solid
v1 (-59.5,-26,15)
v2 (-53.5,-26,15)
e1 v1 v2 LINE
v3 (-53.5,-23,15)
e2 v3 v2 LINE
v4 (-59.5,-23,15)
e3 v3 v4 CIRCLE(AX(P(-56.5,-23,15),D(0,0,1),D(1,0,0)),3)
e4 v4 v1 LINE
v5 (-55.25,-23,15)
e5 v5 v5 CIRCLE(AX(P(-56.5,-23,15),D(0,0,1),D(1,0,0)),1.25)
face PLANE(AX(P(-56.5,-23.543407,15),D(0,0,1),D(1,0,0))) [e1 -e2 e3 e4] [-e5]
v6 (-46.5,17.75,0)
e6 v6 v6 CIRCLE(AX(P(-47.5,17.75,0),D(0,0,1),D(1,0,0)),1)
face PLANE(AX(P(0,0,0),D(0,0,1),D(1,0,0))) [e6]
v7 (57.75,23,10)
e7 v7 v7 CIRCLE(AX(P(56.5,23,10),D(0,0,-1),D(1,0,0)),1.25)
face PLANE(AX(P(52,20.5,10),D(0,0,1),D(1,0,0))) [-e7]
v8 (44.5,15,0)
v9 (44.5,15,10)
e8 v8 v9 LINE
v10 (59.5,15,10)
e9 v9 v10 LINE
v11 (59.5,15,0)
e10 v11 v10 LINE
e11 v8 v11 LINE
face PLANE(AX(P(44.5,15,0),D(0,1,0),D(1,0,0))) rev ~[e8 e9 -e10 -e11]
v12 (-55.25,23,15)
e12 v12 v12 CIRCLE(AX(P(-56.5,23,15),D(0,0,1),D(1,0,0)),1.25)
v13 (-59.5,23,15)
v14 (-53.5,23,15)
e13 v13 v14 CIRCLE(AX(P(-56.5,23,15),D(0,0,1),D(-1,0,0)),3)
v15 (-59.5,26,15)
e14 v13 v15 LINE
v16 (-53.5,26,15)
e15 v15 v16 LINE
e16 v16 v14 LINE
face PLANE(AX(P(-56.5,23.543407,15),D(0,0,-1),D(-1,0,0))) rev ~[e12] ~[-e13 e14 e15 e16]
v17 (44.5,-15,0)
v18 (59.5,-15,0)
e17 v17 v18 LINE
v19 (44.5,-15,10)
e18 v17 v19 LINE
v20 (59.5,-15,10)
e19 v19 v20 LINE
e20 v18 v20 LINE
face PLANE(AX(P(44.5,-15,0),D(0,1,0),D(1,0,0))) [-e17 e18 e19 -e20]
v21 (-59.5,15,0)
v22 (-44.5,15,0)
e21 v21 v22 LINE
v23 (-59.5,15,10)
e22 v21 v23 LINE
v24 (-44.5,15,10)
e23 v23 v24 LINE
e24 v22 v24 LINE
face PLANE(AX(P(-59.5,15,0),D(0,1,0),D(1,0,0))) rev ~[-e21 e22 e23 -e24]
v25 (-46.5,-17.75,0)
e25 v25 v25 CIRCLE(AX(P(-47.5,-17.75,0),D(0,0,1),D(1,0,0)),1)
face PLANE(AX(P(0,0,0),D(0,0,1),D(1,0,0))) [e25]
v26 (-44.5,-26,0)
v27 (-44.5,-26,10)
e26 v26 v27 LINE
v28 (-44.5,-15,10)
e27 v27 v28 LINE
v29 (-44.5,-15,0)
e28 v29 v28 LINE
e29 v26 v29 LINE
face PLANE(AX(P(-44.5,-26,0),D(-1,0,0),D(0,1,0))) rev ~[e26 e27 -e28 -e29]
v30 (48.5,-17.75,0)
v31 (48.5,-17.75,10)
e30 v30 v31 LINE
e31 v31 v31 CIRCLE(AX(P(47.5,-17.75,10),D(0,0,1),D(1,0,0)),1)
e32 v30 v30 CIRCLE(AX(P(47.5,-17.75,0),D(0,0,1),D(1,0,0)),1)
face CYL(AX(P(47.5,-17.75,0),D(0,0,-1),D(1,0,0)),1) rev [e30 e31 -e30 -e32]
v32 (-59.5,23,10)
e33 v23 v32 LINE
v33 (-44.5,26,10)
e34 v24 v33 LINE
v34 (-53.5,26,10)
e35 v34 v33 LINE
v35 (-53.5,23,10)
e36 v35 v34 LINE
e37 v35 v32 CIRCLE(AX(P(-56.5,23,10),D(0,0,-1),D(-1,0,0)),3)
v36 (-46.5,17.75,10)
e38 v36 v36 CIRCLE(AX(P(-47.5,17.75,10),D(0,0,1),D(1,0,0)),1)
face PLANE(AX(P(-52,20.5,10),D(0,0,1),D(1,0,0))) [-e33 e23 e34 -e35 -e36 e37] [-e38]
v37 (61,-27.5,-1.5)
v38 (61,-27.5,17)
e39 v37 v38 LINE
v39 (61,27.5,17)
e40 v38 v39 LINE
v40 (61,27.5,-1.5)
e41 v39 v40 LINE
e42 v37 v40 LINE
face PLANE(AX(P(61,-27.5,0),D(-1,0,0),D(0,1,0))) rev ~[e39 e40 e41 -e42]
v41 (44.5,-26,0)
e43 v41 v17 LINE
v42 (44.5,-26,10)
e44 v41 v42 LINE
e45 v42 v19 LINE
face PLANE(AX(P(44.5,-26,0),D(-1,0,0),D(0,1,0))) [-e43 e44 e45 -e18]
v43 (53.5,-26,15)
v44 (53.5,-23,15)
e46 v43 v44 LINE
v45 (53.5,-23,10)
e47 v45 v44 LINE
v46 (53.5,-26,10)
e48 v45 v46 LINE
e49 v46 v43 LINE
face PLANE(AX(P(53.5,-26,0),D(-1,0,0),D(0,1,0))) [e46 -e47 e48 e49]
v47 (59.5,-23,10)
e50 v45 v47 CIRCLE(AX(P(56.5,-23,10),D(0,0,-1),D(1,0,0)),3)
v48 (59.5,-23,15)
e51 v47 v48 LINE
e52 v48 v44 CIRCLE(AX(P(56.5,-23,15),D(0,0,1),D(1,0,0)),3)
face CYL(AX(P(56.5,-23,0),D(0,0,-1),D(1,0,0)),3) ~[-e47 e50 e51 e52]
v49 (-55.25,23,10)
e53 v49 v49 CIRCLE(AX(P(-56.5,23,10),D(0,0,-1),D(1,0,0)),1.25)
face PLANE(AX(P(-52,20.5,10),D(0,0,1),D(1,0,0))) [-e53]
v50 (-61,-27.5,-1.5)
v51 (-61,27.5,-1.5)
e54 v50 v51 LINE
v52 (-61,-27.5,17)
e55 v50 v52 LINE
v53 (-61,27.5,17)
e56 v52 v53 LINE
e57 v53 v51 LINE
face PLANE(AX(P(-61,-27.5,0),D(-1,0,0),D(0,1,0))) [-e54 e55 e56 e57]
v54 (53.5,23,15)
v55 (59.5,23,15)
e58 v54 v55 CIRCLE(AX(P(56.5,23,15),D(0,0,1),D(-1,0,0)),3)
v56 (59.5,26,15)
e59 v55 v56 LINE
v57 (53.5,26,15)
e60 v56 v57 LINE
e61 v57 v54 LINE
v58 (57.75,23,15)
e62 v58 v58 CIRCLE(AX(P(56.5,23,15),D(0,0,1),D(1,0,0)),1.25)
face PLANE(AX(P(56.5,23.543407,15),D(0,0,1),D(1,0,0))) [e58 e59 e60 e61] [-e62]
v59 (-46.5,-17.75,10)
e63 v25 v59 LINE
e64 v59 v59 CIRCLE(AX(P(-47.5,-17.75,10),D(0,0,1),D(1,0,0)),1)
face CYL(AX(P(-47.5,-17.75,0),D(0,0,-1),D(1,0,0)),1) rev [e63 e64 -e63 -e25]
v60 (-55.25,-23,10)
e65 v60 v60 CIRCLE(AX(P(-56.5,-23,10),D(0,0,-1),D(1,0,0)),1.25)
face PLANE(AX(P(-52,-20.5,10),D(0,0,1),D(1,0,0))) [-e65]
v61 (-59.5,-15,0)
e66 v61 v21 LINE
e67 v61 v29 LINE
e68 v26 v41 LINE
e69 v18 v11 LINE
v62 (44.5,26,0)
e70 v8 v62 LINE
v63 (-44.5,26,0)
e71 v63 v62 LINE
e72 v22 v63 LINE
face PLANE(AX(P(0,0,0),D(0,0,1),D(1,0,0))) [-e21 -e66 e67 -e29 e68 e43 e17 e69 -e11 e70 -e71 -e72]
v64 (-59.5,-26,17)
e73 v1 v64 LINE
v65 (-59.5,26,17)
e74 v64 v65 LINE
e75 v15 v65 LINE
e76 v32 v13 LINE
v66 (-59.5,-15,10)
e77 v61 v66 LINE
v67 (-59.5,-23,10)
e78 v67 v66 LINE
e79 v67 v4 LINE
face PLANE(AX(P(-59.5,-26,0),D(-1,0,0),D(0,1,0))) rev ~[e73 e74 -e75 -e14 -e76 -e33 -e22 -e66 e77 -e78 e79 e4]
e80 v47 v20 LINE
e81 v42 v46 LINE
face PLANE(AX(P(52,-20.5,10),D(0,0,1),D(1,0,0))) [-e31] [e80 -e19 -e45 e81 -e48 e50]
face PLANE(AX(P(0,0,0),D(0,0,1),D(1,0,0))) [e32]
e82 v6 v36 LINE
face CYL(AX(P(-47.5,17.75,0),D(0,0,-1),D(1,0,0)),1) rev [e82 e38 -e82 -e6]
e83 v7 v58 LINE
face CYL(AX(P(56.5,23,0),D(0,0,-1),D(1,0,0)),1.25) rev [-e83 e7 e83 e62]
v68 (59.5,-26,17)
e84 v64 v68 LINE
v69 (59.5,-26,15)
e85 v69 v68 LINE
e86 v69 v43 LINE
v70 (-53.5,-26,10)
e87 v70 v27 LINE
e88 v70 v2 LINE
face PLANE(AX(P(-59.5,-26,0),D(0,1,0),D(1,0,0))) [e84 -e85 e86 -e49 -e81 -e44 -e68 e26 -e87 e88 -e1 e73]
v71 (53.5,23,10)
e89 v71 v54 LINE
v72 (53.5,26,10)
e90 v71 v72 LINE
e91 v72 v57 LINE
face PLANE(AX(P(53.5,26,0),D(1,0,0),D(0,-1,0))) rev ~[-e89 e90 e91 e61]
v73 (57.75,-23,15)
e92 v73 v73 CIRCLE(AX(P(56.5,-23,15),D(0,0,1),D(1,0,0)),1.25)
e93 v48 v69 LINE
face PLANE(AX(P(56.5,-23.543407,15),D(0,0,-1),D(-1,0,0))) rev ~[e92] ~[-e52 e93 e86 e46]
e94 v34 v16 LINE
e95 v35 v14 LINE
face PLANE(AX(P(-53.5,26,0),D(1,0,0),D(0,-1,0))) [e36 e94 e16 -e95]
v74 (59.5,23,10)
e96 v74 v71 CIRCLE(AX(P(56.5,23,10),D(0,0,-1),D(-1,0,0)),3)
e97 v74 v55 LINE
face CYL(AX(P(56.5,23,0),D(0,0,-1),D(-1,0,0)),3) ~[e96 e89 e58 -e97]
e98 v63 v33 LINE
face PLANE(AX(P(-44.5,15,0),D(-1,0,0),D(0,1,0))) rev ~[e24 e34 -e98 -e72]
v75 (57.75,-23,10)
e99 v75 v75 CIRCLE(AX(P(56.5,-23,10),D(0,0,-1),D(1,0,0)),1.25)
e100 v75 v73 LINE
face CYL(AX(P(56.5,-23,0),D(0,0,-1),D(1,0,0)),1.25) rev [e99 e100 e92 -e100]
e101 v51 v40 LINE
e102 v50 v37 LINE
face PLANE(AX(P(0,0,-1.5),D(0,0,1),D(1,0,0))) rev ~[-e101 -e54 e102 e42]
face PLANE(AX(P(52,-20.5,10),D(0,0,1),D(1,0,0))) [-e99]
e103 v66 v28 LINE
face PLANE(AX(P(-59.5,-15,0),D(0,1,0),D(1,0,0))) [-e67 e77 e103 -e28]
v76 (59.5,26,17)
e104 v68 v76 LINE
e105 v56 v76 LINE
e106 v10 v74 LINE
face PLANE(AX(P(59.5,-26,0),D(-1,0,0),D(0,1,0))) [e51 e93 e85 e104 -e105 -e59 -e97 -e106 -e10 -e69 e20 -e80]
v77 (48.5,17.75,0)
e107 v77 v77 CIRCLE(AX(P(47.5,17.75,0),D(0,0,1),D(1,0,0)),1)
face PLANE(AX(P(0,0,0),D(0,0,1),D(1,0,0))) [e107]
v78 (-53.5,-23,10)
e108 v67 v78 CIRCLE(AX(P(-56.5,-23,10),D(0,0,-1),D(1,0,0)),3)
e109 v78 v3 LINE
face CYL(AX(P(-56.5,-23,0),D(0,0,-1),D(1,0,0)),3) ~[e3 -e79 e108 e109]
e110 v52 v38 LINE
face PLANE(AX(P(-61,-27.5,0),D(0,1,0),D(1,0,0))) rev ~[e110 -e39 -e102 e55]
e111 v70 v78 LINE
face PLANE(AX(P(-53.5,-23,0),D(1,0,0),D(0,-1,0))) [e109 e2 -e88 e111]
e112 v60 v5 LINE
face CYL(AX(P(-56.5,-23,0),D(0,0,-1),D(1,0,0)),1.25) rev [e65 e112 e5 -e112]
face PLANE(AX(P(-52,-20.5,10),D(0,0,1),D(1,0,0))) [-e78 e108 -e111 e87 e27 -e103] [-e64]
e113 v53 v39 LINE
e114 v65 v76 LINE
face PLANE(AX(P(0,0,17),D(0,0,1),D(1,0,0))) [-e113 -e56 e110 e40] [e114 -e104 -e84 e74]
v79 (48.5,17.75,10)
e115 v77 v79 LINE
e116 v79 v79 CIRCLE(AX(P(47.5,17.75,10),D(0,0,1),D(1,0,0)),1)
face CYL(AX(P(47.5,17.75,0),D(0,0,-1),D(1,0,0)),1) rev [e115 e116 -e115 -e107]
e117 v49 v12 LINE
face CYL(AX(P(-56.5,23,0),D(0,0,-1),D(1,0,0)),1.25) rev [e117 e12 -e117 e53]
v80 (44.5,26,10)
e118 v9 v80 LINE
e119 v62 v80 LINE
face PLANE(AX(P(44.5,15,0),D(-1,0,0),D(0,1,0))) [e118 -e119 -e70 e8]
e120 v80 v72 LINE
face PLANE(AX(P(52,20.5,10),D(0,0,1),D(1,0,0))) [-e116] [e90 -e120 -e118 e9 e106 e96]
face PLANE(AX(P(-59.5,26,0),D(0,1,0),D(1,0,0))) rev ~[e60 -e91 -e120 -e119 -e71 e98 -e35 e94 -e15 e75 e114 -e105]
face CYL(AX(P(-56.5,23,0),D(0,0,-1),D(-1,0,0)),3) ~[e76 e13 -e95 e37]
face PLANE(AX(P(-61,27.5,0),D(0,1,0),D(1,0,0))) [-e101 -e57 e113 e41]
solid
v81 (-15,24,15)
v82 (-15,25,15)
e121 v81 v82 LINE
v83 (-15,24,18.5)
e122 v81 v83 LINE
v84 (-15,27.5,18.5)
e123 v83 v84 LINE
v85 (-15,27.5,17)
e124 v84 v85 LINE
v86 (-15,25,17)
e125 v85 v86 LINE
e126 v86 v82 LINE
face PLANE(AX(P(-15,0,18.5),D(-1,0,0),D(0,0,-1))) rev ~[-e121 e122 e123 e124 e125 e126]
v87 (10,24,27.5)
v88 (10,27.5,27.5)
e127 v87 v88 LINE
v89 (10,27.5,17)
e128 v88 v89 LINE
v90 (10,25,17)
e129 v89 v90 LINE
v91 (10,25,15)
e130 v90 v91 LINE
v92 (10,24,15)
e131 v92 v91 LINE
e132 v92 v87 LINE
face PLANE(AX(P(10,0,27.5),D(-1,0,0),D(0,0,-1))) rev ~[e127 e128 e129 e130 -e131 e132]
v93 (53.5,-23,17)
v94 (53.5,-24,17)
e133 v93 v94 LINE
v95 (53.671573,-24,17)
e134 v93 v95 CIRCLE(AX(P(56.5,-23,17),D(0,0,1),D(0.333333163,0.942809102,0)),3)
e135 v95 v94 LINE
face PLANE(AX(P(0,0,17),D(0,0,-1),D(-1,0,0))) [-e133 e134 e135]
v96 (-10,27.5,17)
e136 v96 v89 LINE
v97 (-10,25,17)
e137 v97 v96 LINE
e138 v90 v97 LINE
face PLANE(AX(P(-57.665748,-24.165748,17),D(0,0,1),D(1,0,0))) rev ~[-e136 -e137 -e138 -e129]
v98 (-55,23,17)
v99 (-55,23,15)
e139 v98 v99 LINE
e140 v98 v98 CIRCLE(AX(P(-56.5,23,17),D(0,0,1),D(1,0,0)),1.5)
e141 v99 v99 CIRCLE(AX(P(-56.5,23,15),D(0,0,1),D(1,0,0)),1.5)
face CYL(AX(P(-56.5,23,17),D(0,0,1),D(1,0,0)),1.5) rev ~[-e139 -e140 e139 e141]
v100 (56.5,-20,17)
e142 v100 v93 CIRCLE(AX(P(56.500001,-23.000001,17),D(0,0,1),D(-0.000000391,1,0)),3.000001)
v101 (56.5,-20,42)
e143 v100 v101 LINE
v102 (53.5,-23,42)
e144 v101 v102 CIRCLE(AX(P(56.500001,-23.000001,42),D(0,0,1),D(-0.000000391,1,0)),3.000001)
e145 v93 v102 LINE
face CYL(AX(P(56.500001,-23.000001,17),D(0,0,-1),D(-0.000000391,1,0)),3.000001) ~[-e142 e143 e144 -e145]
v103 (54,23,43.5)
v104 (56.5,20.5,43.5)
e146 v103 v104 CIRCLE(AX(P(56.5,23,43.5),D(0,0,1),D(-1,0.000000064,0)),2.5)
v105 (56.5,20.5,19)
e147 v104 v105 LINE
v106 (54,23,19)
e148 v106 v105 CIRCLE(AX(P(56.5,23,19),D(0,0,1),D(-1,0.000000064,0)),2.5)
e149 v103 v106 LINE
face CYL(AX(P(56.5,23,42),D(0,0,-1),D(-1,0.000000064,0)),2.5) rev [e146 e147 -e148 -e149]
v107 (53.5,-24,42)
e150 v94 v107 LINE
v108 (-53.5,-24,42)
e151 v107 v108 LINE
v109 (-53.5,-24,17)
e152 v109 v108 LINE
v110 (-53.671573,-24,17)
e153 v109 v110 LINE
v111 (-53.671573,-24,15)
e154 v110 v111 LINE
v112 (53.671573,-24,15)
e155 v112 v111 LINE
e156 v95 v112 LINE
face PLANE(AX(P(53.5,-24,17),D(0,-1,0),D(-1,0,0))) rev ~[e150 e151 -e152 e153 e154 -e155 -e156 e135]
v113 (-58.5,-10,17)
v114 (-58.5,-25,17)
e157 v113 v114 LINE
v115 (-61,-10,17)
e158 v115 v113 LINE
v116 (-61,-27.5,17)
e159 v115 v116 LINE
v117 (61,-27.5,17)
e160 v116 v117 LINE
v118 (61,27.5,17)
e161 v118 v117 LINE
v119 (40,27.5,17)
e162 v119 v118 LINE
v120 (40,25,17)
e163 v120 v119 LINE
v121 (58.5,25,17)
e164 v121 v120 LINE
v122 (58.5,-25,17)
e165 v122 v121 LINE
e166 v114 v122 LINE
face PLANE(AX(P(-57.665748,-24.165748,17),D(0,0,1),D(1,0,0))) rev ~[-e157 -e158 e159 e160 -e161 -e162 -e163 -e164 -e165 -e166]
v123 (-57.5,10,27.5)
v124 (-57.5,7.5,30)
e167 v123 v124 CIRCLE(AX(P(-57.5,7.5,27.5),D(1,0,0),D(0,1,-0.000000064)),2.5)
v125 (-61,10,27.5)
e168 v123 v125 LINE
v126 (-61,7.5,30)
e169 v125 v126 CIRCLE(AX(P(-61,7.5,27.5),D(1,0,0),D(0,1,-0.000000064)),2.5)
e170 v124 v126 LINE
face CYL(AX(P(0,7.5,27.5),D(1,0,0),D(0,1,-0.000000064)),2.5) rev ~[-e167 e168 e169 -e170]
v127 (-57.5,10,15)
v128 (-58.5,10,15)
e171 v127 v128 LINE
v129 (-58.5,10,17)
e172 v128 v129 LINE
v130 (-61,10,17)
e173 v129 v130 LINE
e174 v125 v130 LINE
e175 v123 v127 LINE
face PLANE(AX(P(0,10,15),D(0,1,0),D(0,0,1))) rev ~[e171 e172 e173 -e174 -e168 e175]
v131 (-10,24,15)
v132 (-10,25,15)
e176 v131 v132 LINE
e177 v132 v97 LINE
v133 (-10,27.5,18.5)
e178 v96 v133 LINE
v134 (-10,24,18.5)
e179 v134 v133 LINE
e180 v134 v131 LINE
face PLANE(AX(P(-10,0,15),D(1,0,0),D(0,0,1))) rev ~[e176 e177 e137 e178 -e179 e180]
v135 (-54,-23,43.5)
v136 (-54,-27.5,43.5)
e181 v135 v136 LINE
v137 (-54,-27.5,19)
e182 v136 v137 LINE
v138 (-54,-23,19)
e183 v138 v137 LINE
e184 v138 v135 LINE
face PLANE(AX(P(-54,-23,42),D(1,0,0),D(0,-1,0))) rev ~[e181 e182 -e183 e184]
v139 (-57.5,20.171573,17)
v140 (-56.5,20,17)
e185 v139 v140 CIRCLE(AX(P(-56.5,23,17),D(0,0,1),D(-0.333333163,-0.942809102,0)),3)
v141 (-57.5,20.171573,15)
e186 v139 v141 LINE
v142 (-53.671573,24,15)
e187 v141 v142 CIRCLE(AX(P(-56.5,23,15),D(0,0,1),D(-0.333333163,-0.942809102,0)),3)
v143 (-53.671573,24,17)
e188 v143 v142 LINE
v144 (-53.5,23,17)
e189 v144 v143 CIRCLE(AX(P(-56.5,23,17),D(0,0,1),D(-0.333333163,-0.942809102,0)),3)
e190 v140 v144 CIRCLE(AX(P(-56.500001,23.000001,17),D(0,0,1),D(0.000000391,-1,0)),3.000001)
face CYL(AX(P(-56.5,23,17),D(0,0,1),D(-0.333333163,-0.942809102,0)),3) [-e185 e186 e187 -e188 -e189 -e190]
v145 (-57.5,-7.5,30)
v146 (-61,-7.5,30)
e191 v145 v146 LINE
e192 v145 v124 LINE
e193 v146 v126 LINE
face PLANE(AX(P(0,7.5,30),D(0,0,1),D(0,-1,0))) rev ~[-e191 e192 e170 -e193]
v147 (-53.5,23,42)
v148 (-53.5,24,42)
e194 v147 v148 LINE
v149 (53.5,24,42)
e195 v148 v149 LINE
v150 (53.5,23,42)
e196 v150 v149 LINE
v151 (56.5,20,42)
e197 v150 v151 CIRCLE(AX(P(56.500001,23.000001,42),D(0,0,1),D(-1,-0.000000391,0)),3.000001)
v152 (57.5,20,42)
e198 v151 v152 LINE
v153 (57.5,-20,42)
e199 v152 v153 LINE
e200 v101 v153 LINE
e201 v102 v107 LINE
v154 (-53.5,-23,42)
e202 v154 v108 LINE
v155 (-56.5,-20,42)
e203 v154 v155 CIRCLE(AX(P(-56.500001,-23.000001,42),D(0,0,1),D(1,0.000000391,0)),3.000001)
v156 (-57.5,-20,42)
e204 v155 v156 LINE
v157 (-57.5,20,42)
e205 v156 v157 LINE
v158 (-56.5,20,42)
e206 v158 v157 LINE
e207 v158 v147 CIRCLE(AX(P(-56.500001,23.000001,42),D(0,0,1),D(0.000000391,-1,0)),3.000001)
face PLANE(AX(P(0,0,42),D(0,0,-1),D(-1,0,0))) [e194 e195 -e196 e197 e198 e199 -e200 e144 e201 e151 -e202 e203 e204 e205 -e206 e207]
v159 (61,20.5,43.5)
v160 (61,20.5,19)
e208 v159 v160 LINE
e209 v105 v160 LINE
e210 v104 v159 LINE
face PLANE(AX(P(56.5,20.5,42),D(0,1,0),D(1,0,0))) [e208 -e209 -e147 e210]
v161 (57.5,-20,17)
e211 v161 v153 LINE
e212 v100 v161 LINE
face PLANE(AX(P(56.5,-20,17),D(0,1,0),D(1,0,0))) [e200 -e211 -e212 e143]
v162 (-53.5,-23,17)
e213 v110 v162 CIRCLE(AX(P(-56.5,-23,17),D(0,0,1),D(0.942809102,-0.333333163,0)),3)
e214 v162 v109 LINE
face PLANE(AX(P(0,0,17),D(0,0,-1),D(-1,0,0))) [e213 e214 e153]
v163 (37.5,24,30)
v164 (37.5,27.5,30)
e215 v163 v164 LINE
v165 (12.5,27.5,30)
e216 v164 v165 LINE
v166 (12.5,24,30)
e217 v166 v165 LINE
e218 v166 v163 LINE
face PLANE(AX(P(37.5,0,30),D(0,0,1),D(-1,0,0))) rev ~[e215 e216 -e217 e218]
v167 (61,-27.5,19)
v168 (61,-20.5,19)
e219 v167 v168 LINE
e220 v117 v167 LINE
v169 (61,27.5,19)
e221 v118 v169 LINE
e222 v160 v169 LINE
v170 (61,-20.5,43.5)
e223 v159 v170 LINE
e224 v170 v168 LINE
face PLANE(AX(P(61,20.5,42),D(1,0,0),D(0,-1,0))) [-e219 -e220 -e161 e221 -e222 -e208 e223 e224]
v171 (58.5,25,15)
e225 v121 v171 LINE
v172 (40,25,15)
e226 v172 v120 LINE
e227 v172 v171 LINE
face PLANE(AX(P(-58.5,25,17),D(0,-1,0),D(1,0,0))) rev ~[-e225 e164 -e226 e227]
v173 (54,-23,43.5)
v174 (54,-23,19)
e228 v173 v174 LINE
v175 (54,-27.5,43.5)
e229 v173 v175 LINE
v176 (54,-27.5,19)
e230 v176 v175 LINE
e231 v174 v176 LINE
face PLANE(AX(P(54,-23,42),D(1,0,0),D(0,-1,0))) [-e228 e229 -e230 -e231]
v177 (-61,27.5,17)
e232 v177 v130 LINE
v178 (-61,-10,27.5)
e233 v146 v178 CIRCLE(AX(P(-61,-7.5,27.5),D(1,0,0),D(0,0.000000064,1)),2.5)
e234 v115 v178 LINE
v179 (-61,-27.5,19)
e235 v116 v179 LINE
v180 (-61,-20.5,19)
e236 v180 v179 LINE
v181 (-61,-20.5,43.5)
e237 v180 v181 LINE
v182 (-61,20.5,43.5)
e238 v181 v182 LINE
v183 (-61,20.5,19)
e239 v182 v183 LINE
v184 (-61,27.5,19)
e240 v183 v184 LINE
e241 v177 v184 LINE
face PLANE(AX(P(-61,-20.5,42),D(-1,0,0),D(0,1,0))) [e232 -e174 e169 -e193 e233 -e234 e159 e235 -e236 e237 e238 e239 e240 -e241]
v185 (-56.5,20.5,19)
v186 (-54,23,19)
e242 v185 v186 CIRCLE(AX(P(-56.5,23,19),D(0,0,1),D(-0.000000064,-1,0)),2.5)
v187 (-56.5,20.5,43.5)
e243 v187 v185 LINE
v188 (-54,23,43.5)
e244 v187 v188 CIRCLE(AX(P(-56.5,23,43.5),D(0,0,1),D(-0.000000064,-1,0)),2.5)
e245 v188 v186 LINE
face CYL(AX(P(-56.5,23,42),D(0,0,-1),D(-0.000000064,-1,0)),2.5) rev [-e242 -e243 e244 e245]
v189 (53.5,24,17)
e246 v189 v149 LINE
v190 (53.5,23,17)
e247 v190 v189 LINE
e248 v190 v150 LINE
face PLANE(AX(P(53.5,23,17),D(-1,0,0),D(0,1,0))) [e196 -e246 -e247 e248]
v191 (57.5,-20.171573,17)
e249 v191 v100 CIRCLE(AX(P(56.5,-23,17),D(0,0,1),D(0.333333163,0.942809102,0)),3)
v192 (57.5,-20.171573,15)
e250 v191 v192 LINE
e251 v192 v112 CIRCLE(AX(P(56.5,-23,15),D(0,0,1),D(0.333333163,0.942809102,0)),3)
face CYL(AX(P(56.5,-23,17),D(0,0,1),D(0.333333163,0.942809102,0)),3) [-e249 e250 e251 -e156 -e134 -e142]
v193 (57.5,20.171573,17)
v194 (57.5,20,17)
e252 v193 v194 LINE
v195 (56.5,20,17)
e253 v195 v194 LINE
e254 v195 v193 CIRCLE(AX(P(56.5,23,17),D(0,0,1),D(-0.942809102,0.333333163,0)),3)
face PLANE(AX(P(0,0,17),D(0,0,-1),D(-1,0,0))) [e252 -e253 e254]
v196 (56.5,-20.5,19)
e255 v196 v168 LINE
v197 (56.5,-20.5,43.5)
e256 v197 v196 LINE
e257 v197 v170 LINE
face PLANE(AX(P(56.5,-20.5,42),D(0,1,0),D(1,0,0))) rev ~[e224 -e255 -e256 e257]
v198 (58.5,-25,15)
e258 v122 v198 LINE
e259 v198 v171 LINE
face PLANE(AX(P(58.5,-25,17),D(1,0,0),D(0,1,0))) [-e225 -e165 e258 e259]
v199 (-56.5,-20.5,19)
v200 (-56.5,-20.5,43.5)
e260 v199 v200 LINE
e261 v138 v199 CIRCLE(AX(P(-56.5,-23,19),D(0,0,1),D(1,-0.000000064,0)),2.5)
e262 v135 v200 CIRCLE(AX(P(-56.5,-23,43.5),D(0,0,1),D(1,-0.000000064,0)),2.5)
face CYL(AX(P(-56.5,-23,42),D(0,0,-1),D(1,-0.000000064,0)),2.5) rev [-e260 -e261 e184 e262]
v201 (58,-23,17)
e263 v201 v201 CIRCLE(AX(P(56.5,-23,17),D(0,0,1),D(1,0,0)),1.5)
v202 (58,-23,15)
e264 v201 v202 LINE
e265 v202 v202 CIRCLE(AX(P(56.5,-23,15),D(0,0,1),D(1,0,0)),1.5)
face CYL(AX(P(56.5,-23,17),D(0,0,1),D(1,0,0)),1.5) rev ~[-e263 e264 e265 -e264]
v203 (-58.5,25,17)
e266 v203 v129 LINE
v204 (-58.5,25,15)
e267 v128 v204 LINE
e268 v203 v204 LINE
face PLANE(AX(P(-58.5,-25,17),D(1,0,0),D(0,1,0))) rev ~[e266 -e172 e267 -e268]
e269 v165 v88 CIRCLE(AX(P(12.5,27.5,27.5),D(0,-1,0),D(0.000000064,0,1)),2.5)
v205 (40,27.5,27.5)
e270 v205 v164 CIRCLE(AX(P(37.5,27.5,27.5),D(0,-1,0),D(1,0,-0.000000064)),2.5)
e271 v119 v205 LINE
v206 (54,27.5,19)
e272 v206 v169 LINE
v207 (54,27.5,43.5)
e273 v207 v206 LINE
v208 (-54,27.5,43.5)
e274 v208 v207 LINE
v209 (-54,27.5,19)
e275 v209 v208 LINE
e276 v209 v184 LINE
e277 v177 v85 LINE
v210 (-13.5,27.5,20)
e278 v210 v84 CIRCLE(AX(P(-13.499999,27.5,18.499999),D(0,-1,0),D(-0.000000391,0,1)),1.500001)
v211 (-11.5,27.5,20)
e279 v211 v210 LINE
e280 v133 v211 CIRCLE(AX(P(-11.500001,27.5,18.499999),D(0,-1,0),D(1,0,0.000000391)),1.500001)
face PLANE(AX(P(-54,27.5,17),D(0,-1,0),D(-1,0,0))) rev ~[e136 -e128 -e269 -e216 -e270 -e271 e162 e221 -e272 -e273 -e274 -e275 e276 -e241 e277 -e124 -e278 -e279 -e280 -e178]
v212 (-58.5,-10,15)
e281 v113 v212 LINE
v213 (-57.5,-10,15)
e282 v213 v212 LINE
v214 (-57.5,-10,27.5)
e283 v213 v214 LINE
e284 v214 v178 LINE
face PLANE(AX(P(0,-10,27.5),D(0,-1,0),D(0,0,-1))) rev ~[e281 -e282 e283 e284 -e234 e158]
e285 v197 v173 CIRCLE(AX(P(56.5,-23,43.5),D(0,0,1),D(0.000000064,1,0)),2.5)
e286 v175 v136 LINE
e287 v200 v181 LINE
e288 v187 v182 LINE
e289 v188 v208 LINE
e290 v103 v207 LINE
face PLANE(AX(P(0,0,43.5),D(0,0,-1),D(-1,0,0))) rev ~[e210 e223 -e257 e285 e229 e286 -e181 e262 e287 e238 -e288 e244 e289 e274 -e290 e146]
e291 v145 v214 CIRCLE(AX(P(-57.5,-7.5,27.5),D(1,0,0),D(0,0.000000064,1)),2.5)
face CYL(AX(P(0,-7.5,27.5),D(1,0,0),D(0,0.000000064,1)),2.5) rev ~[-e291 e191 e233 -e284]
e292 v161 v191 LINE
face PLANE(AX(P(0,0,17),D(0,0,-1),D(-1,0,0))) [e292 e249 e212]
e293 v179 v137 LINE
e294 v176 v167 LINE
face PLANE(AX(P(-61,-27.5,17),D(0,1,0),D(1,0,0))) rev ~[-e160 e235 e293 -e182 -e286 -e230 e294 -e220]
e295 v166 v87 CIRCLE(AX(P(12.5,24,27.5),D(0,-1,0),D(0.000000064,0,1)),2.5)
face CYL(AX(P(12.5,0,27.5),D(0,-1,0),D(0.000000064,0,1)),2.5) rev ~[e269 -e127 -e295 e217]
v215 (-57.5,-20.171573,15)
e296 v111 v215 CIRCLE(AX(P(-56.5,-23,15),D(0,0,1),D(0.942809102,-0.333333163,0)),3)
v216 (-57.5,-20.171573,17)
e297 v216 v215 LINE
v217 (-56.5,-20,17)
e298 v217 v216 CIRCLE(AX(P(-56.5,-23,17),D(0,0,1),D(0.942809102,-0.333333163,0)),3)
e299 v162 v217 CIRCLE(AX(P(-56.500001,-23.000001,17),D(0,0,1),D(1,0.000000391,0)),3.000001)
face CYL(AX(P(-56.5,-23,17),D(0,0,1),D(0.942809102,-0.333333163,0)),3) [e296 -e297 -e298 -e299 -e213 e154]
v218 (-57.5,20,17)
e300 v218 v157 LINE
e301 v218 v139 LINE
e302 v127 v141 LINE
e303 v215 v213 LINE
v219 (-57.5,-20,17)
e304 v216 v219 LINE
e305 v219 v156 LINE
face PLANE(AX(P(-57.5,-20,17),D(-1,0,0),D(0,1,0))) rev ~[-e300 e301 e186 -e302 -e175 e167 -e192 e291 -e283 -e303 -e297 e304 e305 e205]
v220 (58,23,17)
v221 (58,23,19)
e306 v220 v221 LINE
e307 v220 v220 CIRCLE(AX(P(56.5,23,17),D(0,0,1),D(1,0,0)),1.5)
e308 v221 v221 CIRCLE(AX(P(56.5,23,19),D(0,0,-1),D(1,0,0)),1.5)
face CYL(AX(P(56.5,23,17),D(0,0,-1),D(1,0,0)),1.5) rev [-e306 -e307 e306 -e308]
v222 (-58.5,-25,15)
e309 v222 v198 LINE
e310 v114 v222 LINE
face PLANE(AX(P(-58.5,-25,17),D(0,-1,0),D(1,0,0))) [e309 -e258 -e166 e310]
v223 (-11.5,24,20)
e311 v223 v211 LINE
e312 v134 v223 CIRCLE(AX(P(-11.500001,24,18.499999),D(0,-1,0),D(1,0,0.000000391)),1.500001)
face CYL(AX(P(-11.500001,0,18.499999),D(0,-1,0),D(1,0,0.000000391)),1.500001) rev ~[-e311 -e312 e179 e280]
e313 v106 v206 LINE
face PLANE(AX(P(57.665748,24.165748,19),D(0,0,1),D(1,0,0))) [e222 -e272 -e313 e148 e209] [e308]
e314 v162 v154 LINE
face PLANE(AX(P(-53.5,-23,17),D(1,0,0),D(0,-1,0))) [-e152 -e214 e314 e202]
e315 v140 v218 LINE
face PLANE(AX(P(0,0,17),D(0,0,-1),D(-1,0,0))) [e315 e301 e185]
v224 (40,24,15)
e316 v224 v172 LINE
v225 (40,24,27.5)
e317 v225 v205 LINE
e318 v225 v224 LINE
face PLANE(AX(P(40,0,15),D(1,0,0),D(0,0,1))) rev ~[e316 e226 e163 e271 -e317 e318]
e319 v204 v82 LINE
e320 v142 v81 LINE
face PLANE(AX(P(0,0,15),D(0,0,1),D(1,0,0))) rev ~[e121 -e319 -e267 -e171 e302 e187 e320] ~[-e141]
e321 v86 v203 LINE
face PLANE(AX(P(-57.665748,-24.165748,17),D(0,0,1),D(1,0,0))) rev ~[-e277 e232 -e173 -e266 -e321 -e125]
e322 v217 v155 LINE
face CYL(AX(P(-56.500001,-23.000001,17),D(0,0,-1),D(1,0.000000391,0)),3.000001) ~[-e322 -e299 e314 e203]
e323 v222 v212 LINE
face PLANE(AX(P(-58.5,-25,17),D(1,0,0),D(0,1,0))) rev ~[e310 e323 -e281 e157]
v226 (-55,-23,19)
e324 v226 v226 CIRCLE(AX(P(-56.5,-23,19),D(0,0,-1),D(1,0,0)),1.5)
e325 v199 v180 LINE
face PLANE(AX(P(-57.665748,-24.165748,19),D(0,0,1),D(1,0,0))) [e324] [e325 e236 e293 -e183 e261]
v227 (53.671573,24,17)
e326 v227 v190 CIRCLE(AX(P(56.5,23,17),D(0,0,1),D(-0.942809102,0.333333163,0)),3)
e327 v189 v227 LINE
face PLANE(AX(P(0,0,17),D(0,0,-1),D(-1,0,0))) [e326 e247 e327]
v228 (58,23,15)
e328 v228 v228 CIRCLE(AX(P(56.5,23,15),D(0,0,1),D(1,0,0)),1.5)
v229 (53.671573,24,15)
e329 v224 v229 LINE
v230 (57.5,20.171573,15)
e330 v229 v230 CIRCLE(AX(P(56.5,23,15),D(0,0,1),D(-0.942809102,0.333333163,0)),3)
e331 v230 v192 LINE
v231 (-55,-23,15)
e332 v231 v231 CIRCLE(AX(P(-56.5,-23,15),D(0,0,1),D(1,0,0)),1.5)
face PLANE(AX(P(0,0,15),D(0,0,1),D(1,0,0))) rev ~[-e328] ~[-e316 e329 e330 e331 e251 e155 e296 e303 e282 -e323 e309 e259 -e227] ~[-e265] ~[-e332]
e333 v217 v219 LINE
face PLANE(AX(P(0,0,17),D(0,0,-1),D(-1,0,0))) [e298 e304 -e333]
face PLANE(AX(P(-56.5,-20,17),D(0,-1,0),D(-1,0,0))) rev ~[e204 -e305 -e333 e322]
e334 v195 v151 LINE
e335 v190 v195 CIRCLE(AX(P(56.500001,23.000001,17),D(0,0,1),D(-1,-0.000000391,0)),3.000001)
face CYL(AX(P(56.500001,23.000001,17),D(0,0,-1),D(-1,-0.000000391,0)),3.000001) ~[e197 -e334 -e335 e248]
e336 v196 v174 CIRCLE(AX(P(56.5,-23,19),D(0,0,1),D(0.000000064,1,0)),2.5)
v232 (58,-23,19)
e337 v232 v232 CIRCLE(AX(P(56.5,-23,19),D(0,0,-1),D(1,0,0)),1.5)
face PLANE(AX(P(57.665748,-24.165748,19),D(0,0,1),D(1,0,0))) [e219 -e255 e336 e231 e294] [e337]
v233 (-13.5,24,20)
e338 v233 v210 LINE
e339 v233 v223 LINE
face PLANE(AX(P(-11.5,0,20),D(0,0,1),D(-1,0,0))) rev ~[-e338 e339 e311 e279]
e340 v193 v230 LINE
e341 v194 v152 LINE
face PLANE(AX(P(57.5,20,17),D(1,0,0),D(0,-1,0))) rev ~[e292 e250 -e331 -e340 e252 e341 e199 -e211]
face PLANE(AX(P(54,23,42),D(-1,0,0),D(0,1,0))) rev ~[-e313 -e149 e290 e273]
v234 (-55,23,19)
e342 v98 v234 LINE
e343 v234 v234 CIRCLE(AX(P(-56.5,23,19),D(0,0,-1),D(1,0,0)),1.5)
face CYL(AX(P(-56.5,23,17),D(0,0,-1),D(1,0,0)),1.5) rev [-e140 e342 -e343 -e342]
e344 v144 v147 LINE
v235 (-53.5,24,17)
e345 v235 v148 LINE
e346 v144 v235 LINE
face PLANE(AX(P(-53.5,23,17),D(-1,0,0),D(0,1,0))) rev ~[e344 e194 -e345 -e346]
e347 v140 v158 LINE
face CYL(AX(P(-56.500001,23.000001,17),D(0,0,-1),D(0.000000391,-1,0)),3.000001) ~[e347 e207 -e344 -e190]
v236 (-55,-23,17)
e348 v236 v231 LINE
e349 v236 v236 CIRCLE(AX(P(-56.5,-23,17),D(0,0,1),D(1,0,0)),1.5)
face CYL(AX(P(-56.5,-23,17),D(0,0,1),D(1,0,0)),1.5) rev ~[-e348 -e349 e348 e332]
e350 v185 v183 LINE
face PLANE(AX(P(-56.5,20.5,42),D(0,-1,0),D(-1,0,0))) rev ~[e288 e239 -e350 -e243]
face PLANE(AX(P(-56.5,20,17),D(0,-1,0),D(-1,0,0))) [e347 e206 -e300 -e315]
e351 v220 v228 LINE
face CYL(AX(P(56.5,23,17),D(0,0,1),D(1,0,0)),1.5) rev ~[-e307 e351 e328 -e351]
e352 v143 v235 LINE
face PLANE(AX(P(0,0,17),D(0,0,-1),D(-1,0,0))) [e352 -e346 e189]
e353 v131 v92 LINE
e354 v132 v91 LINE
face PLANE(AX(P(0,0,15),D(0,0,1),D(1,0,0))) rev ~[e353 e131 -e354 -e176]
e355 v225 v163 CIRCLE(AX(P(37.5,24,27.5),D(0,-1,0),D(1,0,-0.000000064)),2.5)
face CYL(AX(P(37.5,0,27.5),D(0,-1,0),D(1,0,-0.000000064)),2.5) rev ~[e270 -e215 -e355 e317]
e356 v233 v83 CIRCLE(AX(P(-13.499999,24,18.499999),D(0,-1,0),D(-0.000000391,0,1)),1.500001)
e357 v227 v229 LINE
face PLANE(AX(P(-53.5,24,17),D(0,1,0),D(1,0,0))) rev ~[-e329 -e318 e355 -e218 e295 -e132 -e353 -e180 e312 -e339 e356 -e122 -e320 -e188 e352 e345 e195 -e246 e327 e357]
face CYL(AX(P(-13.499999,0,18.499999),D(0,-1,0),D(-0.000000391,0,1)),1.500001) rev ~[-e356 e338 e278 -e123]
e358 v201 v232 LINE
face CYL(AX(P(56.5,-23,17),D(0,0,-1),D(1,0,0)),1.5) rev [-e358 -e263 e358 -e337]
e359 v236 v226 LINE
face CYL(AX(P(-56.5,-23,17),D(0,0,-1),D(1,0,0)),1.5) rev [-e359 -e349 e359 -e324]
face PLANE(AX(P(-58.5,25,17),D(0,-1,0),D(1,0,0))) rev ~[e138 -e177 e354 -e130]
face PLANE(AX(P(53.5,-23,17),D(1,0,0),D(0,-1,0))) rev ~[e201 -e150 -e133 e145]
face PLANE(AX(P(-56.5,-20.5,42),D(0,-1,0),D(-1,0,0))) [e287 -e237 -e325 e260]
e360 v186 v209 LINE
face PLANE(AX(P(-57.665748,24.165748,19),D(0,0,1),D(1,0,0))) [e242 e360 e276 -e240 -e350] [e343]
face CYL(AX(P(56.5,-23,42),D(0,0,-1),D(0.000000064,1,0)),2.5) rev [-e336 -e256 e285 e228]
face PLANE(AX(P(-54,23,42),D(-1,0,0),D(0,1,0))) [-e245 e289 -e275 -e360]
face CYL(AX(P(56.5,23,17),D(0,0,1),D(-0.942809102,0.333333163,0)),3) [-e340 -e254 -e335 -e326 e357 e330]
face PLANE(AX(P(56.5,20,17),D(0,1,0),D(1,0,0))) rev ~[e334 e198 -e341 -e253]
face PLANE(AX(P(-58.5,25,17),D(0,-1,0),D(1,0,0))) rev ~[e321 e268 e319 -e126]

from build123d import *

# Parameters (mm, degrees)
SKETCH_W          = 122
SKETCH_H          = 55
PAD_DEPTH         = 1.5
SKETCH001_W       = 122
SKETCH001_H       = 55
SKETCH001_W_2     = 119
SKETCH001_H_2     = 52
PAD001_DEPTH      = 17
SKETCH002_W       = 15
SKETCH002_H       = 11
SKETCH002_R       = 1
PAD002_DEPTH      = 10
SKETCH003_R       = 1.25
PAD003_DEPTH      = 15
SKETCH004_W       = 117
SKETCH004_H       = 50
PAD004_DEPTH      = 2
PAD005_DEPTH      = 25
PAD006_DEPTH      = 2
SKETCH007_R       = 1.5
POCKET_DEPTH      = 2.001
POCKET_DEPTH_BACK = 25.001
PAD007_DEPTH      = 1.5
POCKET001_DEPTH   = 61.001
POCKET002_DEPTH   = 27.501


with BuildPart() as body:
    # Sketch → Pad (new body)
    with BuildSketch(Plane.XY):
        Rectangle(SKETCH_W, SKETCH_H)
    extrude(amount=-PAD_DEPTH)

    # Sketch001 → Pad001 (join)
    with BuildSketch(Plane.XY):
        Rectangle(SKETCH001_W, SKETCH001_H)
        Rectangle(SKETCH001_W_2, SKETCH001_H_2, mode=Mode.SUBTRACT)
    extrude(amount=PAD001_DEPTH)

    # Sketch002 → Pad002 (join)
    with BuildSketch(Plane.XY):
        with Locations((-52, -20.5)):
            Rectangle(SKETCH002_W, SKETCH002_H)
        with Locations((-47.5, -17.75)):
            Circle(SKETCH002_R, mode=Mode.SUBTRACT)
        with Locations((-52, 20.5)):
            Rectangle(SKETCH002_W, SKETCH002_H)
        with Locations((-47.5, 17.75)):
            Circle(SKETCH002_R, mode=Mode.SUBTRACT)
        with Locations((52, 20.5)):
            Rectangle(SKETCH002_W, SKETCH002_H)
        with Locations((47.5, 17.75)):
            Circle(SKETCH002_R, mode=Mode.SUBTRACT)
        with Locations((52, -20.5)):
            Rectangle(SKETCH002_W, SKETCH002_H)
        with Locations((47.5, -17.75)):
            Circle(SKETCH002_R, mode=Mode.SUBTRACT)
    extrude(amount=PAD002_DEPTH)

    # Sketch003 → Pad003 (join)
    with BuildSketch(Plane.XY):
        with BuildLine():
            Line((-59.5, -26), (-53.5, -26))
            Line((-53.5, -23), (-53.5, -26))
            ThreePointArc((-53.5, -23), (-56.5, -20), (-59.5, -23))
            Line((-59.5, -23), (-59.5, -26))
        make_face()
        with Locations((-56.5, -23)):
            Circle(SKETCH003_R, mode=Mode.SUBTRACT)
        with BuildLine():
            Line((-59.5, 26), (-53.5, 26))
            Line((-53.5, 26), (-53.5, 23))
            ThreePointArc((-59.5, 23), (-56.5, 20), (-53.5, 23))
            Line((-59.5, 23), (-59.5, 26))
        make_face()
        with Locations((-56.5, 23)):
            Circle(SKETCH003_R, mode=Mode.SUBTRACT)
        with BuildLine():
            Line((59.5, 26), (53.5, 26))
            Line((53.5, 26), (53.5, 23))
            ThreePointArc((53.5, 23), (56.5, 20), (59.5, 23))
            Line((59.5, 23), (59.5, 26))
        make_face()
        with Locations((56.5, 23)):
            Circle(SKETCH003_R, mode=Mode.SUBTRACT)
        with BuildLine():
            Line((59.5, -26), (53.5, -26))
            Line((53.5, -26), (53.5, -23))
            ThreePointArc((59.5, -23), (56.5, -20), (53.5, -23))
            Line((59.5, -23), (59.5, -26))
        make_face()
        with Locations((56.5, -23)):
            Circle(SKETCH003_R, mode=Mode.SUBTRACT)
    extrude(amount=PAD003_DEPTH)


with BuildPart() as body001:
    # Sketch004 (on DatumPlane) → Pad004 (new body)
    with BuildSketch(Plane.XY.offset(17)):
        Rectangle(SKETCH004_W, SKETCH004_H)
        with BuildLine():
            ThreePointArc((-57.5, 20.171573), (-54.37868, 20.87868), (-53.671573, 24))
            Line((-53.671573, 24), (53.671573, 24))
            ThreePointArc((53.671573, 24), (54.37868, 20.87868), (57.5, 20.171573))
            Line((57.5, 20.171573), (57.5, -20.171573))
            ThreePointArc((57.5, -20.171573), (54.37868, -20.87868), (53.671573, -24))
            Line((53.671573, -24), (-53.671573, -24))
            ThreePointArc((-53.671573, -24), (-54.37868, -20.87868), (-57.5, -20.171573))
            Line((-57.5, -20.171573), (-57.5, 20.171573))
        make_face(mode=Mode.SUBTRACT)
    extrude(amount=-PAD004_DEPTH)

    # Sketch008 (on DatumPlane) → Pad005 (join)
    with BuildSketch(Plane.XY.offset(17)):
        with BuildLine():
            Line((-61, -20.5), (-61, 20.5))
            Line((-56.5, 20.5), (-61, 20.5))
            ThreePointArc((-56.5, 20.5), (-54.732233, 21.232233), (-54, 23))
            Line((-54, 23), (-54, 27.5))
            Line((-54, 27.5), (54, 27.5))
            Line((54, 23), (54, 27.5))
            ThreePointArc((54, 23), (54.732233, 21.232233), (56.5, 20.5))
            Line((56.5, 20.5), (61, 20.5))
            Line((61, 20.5), (61, -20.5))
            Line((56.5, -20.5), (61, -20.5))
            ThreePointArc((56.5, -20.5), (54.732233, -21.232233), (54, -23))
            Line((54, -23), (54, -27.5))
            Line((54, -27.5), (-54, -27.5))
            Line((-54, -23), (-54, -27.5))
            ThreePointArc((-54, -23), (-54.732233, -21.232233), (-56.5, -20.5))
            Line((-56.5, -20.5), (-61, -20.5))
        make_face()
        with BuildLine():
            ThreePointArc((-56.5, 20), (-54.37868, 20.87868), (-53.5, 23))
            Line((-53.5, 23), (-53.5, 24))
            Line((-53.5, 24), (53.5, 24))
            Line((53.5, 23), (53.5, 24))
            ThreePointArc((53.5, 23), (54.37868, 20.87868), (56.5, 20))
            Line((56.5, 20), (57.5, 20))
            Line((57.5, 20), (57.5, -20))
            Line((56.5, -20), (57.5, -20))
            ThreePointArc((56.5, -20), (54.37868, -20.87868), (53.5, -23))
            Line((53.5, -23), (53.5, -24))
            Line((53.5, -24), (-53.5, -24))
            Line((-53.5, -23), (-53.5, -24))
            ThreePointArc((-53.5, -23), (-54.37868, -20.87868), (-56.5, -20))
            Line((-56.5, -20), (-57.5, -20))
            Line((-57.5, -20), (-57.5, 20))
            Line((-56.5, 20), (-57.5, 20))
        make_face(mode=Mode.SUBTRACT)
    extrude(amount=PAD005_DEPTH)

    # Sketch009 (on DatumPlane) → Pad006 (join)
    with BuildSketch(Plane.XY.offset(17)):
        with BuildLine():
            ThreePointArc((-54, -23), (-54.732233, -21.232233), (-56.5, -20.5))
            Line((-56.5, -20.5), (-61, -20.5))
            Line((-61, -20.5), (-61, -27.5))
            Line((-61, -27.5), (-54, -27.5))
            Line((-54, -23), (-54, -27.5))
        make_face()
        with BuildLine():
            ThreePointArc((54, 23), (54.732233, 21.232233), (56.5, 20.5))
            Line((56.5, 20.5), (61, 20.5))
            Line((61, 20.5), (61, 27.5))
            Line((54, 27.5), (61, 27.5))
            Line((54, 23), (54, 27.5))
        make_face()
        with BuildLine():
            ThreePointArc((-56.5, 20.5), (-54.732233, 21.232233), (-54, 23))
            Line((-54, 23), (-54, 27.5))
            Line((-54, 27.5), (-61, 27.5))
            Line((-61, 20.5), (-61, 27.5))
            Line((-56.5, 20.5), (-61, 20.5))
        make_face()
        with BuildLine():
            Line((54, -23), (54, -27.5))
            Line((54, -27.5), (61, -27.5))
            Line((61, -27.5), (61, -20.5))
            Line((56.5, -20.5), (61, -20.5))
            ThreePointArc((56.5, -20.5), (54.732233, -21.232233), (54, -23))
        make_face()
    extrude(amount=PAD006_DEPTH)

    # Sketch007 (on DatumPlane) → Pocket (cut, two sides)
    with BuildSketch(Plane.XY.offset(17)) as pocket_sk:
        with Locations((-56.5, 23)):
            Circle(SKETCH007_R)
        with Locations((-56.5, -23)):
            Circle(SKETCH007_R)
        with Locations((56.5, -23)):
            Circle(SKETCH007_R)
        with Locations((56.5, 23)):
            Circle(SKETCH007_R)
    extrude(amount=-POCKET_DEPTH, mode=Mode.SUBTRACT)
    extrude(pocket_sk.sketch, amount=POCKET_DEPTH_BACK, mode=Mode.SUBTRACT)

    # Sketch010 (on DatumPlane) → Pad007 (join)
    with BuildSketch(Plane.XY.offset(42)):
        with BuildLine():
            Line((-61, -20.5), (-61, 20.5))
            Line((-56.5, 20.5), (-61, 20.5))
            ThreePointArc((-56.5, 20.5), (-54.732233, 21.232233), (-54, 23))
            Line((-54, 23), (-54, 27.5))
            Line((-54, 27.5), (54, 27.5))
            Line((54, 23), (54, 27.5))
            ThreePointArc((54, 23), (54.732233, 21.232233), (56.5, 20.5))
            Line((56.5, 20.5), (61, 20.5))
            Line((61, 20.5), (61, -20.5))
            Line((56.5, -20.5), (61, -20.5))
            ThreePointArc((56.5, -20.5), (54.732233, -21.232233), (54, -23))
            Line((54, -23), (54, -27.5))
            Line((54, -27.5), (-54, -27.5))
            Line((-54, -23), (-54, -27.5))
            ThreePointArc((-54, -23), (-54.732233, -21.232233), (-56.5, -20.5))
            Line((-56.5, -20.5), (-61, -20.5))
        make_face()
    extrude(amount=PAD007_DEPTH)

    # Sketch011 → Pocket001 (cut, through all)
    with BuildSketch(Plane.YZ):
        with BuildLine():
            Line((-10, 27.5), (-10, 15))
            Line((-10, 15), (10, 15))
            Line((10, 15), (10, 27.5))
            ThreePointArc((10, 27.5), (9.267767, 29.267767), (7.5, 30))
            Line((7.5, 30), (-7.5, 30))
            ThreePointArc((-7.5, 30), (-9.267767, 29.267767), (-10, 27.5))
        make_face()
    extrude(amount=-POCKET001_DEPTH, mode=Mode.SUBTRACT)

    # Sketch012 → Pocket002 (cut, through all)
    with BuildSketch(Plane.XZ):
        with BuildLine():
            Line((10, 27.5), (10, 15))
            Line((10, 15), (40, 15))
            Line((40, 15), (40, 27.5))
            ThreePointArc((40, 27.5), (39.267767, 29.267767), (37.5, 30))
            Line((37.5, 30), (12.5, 30))
            ThreePointArc((12.5, 30), (10.732233, 29.267767), (10, 27.5))
        make_face()
        with BuildLine():
            Line((-15, 15), (-10, 15))
            Line((-10, 15), (-10, 18.5))
            ThreePointArc((-10, 18.5), (-10.43934, 19.56066), (-11.5, 20))
            Line((-11.5, 20), (-13.5, 20))
            ThreePointArc((-13.5, 20), (-14.56066, 19.56066), (-15, 18.5))
            Line((-15, 18.5), (-15, 15))
        make_face()
    extrude(amount=-POCKET002_DEPTH, mode=Mode.SUBTRACT)


solid = Compound([body.part, body001.part])
